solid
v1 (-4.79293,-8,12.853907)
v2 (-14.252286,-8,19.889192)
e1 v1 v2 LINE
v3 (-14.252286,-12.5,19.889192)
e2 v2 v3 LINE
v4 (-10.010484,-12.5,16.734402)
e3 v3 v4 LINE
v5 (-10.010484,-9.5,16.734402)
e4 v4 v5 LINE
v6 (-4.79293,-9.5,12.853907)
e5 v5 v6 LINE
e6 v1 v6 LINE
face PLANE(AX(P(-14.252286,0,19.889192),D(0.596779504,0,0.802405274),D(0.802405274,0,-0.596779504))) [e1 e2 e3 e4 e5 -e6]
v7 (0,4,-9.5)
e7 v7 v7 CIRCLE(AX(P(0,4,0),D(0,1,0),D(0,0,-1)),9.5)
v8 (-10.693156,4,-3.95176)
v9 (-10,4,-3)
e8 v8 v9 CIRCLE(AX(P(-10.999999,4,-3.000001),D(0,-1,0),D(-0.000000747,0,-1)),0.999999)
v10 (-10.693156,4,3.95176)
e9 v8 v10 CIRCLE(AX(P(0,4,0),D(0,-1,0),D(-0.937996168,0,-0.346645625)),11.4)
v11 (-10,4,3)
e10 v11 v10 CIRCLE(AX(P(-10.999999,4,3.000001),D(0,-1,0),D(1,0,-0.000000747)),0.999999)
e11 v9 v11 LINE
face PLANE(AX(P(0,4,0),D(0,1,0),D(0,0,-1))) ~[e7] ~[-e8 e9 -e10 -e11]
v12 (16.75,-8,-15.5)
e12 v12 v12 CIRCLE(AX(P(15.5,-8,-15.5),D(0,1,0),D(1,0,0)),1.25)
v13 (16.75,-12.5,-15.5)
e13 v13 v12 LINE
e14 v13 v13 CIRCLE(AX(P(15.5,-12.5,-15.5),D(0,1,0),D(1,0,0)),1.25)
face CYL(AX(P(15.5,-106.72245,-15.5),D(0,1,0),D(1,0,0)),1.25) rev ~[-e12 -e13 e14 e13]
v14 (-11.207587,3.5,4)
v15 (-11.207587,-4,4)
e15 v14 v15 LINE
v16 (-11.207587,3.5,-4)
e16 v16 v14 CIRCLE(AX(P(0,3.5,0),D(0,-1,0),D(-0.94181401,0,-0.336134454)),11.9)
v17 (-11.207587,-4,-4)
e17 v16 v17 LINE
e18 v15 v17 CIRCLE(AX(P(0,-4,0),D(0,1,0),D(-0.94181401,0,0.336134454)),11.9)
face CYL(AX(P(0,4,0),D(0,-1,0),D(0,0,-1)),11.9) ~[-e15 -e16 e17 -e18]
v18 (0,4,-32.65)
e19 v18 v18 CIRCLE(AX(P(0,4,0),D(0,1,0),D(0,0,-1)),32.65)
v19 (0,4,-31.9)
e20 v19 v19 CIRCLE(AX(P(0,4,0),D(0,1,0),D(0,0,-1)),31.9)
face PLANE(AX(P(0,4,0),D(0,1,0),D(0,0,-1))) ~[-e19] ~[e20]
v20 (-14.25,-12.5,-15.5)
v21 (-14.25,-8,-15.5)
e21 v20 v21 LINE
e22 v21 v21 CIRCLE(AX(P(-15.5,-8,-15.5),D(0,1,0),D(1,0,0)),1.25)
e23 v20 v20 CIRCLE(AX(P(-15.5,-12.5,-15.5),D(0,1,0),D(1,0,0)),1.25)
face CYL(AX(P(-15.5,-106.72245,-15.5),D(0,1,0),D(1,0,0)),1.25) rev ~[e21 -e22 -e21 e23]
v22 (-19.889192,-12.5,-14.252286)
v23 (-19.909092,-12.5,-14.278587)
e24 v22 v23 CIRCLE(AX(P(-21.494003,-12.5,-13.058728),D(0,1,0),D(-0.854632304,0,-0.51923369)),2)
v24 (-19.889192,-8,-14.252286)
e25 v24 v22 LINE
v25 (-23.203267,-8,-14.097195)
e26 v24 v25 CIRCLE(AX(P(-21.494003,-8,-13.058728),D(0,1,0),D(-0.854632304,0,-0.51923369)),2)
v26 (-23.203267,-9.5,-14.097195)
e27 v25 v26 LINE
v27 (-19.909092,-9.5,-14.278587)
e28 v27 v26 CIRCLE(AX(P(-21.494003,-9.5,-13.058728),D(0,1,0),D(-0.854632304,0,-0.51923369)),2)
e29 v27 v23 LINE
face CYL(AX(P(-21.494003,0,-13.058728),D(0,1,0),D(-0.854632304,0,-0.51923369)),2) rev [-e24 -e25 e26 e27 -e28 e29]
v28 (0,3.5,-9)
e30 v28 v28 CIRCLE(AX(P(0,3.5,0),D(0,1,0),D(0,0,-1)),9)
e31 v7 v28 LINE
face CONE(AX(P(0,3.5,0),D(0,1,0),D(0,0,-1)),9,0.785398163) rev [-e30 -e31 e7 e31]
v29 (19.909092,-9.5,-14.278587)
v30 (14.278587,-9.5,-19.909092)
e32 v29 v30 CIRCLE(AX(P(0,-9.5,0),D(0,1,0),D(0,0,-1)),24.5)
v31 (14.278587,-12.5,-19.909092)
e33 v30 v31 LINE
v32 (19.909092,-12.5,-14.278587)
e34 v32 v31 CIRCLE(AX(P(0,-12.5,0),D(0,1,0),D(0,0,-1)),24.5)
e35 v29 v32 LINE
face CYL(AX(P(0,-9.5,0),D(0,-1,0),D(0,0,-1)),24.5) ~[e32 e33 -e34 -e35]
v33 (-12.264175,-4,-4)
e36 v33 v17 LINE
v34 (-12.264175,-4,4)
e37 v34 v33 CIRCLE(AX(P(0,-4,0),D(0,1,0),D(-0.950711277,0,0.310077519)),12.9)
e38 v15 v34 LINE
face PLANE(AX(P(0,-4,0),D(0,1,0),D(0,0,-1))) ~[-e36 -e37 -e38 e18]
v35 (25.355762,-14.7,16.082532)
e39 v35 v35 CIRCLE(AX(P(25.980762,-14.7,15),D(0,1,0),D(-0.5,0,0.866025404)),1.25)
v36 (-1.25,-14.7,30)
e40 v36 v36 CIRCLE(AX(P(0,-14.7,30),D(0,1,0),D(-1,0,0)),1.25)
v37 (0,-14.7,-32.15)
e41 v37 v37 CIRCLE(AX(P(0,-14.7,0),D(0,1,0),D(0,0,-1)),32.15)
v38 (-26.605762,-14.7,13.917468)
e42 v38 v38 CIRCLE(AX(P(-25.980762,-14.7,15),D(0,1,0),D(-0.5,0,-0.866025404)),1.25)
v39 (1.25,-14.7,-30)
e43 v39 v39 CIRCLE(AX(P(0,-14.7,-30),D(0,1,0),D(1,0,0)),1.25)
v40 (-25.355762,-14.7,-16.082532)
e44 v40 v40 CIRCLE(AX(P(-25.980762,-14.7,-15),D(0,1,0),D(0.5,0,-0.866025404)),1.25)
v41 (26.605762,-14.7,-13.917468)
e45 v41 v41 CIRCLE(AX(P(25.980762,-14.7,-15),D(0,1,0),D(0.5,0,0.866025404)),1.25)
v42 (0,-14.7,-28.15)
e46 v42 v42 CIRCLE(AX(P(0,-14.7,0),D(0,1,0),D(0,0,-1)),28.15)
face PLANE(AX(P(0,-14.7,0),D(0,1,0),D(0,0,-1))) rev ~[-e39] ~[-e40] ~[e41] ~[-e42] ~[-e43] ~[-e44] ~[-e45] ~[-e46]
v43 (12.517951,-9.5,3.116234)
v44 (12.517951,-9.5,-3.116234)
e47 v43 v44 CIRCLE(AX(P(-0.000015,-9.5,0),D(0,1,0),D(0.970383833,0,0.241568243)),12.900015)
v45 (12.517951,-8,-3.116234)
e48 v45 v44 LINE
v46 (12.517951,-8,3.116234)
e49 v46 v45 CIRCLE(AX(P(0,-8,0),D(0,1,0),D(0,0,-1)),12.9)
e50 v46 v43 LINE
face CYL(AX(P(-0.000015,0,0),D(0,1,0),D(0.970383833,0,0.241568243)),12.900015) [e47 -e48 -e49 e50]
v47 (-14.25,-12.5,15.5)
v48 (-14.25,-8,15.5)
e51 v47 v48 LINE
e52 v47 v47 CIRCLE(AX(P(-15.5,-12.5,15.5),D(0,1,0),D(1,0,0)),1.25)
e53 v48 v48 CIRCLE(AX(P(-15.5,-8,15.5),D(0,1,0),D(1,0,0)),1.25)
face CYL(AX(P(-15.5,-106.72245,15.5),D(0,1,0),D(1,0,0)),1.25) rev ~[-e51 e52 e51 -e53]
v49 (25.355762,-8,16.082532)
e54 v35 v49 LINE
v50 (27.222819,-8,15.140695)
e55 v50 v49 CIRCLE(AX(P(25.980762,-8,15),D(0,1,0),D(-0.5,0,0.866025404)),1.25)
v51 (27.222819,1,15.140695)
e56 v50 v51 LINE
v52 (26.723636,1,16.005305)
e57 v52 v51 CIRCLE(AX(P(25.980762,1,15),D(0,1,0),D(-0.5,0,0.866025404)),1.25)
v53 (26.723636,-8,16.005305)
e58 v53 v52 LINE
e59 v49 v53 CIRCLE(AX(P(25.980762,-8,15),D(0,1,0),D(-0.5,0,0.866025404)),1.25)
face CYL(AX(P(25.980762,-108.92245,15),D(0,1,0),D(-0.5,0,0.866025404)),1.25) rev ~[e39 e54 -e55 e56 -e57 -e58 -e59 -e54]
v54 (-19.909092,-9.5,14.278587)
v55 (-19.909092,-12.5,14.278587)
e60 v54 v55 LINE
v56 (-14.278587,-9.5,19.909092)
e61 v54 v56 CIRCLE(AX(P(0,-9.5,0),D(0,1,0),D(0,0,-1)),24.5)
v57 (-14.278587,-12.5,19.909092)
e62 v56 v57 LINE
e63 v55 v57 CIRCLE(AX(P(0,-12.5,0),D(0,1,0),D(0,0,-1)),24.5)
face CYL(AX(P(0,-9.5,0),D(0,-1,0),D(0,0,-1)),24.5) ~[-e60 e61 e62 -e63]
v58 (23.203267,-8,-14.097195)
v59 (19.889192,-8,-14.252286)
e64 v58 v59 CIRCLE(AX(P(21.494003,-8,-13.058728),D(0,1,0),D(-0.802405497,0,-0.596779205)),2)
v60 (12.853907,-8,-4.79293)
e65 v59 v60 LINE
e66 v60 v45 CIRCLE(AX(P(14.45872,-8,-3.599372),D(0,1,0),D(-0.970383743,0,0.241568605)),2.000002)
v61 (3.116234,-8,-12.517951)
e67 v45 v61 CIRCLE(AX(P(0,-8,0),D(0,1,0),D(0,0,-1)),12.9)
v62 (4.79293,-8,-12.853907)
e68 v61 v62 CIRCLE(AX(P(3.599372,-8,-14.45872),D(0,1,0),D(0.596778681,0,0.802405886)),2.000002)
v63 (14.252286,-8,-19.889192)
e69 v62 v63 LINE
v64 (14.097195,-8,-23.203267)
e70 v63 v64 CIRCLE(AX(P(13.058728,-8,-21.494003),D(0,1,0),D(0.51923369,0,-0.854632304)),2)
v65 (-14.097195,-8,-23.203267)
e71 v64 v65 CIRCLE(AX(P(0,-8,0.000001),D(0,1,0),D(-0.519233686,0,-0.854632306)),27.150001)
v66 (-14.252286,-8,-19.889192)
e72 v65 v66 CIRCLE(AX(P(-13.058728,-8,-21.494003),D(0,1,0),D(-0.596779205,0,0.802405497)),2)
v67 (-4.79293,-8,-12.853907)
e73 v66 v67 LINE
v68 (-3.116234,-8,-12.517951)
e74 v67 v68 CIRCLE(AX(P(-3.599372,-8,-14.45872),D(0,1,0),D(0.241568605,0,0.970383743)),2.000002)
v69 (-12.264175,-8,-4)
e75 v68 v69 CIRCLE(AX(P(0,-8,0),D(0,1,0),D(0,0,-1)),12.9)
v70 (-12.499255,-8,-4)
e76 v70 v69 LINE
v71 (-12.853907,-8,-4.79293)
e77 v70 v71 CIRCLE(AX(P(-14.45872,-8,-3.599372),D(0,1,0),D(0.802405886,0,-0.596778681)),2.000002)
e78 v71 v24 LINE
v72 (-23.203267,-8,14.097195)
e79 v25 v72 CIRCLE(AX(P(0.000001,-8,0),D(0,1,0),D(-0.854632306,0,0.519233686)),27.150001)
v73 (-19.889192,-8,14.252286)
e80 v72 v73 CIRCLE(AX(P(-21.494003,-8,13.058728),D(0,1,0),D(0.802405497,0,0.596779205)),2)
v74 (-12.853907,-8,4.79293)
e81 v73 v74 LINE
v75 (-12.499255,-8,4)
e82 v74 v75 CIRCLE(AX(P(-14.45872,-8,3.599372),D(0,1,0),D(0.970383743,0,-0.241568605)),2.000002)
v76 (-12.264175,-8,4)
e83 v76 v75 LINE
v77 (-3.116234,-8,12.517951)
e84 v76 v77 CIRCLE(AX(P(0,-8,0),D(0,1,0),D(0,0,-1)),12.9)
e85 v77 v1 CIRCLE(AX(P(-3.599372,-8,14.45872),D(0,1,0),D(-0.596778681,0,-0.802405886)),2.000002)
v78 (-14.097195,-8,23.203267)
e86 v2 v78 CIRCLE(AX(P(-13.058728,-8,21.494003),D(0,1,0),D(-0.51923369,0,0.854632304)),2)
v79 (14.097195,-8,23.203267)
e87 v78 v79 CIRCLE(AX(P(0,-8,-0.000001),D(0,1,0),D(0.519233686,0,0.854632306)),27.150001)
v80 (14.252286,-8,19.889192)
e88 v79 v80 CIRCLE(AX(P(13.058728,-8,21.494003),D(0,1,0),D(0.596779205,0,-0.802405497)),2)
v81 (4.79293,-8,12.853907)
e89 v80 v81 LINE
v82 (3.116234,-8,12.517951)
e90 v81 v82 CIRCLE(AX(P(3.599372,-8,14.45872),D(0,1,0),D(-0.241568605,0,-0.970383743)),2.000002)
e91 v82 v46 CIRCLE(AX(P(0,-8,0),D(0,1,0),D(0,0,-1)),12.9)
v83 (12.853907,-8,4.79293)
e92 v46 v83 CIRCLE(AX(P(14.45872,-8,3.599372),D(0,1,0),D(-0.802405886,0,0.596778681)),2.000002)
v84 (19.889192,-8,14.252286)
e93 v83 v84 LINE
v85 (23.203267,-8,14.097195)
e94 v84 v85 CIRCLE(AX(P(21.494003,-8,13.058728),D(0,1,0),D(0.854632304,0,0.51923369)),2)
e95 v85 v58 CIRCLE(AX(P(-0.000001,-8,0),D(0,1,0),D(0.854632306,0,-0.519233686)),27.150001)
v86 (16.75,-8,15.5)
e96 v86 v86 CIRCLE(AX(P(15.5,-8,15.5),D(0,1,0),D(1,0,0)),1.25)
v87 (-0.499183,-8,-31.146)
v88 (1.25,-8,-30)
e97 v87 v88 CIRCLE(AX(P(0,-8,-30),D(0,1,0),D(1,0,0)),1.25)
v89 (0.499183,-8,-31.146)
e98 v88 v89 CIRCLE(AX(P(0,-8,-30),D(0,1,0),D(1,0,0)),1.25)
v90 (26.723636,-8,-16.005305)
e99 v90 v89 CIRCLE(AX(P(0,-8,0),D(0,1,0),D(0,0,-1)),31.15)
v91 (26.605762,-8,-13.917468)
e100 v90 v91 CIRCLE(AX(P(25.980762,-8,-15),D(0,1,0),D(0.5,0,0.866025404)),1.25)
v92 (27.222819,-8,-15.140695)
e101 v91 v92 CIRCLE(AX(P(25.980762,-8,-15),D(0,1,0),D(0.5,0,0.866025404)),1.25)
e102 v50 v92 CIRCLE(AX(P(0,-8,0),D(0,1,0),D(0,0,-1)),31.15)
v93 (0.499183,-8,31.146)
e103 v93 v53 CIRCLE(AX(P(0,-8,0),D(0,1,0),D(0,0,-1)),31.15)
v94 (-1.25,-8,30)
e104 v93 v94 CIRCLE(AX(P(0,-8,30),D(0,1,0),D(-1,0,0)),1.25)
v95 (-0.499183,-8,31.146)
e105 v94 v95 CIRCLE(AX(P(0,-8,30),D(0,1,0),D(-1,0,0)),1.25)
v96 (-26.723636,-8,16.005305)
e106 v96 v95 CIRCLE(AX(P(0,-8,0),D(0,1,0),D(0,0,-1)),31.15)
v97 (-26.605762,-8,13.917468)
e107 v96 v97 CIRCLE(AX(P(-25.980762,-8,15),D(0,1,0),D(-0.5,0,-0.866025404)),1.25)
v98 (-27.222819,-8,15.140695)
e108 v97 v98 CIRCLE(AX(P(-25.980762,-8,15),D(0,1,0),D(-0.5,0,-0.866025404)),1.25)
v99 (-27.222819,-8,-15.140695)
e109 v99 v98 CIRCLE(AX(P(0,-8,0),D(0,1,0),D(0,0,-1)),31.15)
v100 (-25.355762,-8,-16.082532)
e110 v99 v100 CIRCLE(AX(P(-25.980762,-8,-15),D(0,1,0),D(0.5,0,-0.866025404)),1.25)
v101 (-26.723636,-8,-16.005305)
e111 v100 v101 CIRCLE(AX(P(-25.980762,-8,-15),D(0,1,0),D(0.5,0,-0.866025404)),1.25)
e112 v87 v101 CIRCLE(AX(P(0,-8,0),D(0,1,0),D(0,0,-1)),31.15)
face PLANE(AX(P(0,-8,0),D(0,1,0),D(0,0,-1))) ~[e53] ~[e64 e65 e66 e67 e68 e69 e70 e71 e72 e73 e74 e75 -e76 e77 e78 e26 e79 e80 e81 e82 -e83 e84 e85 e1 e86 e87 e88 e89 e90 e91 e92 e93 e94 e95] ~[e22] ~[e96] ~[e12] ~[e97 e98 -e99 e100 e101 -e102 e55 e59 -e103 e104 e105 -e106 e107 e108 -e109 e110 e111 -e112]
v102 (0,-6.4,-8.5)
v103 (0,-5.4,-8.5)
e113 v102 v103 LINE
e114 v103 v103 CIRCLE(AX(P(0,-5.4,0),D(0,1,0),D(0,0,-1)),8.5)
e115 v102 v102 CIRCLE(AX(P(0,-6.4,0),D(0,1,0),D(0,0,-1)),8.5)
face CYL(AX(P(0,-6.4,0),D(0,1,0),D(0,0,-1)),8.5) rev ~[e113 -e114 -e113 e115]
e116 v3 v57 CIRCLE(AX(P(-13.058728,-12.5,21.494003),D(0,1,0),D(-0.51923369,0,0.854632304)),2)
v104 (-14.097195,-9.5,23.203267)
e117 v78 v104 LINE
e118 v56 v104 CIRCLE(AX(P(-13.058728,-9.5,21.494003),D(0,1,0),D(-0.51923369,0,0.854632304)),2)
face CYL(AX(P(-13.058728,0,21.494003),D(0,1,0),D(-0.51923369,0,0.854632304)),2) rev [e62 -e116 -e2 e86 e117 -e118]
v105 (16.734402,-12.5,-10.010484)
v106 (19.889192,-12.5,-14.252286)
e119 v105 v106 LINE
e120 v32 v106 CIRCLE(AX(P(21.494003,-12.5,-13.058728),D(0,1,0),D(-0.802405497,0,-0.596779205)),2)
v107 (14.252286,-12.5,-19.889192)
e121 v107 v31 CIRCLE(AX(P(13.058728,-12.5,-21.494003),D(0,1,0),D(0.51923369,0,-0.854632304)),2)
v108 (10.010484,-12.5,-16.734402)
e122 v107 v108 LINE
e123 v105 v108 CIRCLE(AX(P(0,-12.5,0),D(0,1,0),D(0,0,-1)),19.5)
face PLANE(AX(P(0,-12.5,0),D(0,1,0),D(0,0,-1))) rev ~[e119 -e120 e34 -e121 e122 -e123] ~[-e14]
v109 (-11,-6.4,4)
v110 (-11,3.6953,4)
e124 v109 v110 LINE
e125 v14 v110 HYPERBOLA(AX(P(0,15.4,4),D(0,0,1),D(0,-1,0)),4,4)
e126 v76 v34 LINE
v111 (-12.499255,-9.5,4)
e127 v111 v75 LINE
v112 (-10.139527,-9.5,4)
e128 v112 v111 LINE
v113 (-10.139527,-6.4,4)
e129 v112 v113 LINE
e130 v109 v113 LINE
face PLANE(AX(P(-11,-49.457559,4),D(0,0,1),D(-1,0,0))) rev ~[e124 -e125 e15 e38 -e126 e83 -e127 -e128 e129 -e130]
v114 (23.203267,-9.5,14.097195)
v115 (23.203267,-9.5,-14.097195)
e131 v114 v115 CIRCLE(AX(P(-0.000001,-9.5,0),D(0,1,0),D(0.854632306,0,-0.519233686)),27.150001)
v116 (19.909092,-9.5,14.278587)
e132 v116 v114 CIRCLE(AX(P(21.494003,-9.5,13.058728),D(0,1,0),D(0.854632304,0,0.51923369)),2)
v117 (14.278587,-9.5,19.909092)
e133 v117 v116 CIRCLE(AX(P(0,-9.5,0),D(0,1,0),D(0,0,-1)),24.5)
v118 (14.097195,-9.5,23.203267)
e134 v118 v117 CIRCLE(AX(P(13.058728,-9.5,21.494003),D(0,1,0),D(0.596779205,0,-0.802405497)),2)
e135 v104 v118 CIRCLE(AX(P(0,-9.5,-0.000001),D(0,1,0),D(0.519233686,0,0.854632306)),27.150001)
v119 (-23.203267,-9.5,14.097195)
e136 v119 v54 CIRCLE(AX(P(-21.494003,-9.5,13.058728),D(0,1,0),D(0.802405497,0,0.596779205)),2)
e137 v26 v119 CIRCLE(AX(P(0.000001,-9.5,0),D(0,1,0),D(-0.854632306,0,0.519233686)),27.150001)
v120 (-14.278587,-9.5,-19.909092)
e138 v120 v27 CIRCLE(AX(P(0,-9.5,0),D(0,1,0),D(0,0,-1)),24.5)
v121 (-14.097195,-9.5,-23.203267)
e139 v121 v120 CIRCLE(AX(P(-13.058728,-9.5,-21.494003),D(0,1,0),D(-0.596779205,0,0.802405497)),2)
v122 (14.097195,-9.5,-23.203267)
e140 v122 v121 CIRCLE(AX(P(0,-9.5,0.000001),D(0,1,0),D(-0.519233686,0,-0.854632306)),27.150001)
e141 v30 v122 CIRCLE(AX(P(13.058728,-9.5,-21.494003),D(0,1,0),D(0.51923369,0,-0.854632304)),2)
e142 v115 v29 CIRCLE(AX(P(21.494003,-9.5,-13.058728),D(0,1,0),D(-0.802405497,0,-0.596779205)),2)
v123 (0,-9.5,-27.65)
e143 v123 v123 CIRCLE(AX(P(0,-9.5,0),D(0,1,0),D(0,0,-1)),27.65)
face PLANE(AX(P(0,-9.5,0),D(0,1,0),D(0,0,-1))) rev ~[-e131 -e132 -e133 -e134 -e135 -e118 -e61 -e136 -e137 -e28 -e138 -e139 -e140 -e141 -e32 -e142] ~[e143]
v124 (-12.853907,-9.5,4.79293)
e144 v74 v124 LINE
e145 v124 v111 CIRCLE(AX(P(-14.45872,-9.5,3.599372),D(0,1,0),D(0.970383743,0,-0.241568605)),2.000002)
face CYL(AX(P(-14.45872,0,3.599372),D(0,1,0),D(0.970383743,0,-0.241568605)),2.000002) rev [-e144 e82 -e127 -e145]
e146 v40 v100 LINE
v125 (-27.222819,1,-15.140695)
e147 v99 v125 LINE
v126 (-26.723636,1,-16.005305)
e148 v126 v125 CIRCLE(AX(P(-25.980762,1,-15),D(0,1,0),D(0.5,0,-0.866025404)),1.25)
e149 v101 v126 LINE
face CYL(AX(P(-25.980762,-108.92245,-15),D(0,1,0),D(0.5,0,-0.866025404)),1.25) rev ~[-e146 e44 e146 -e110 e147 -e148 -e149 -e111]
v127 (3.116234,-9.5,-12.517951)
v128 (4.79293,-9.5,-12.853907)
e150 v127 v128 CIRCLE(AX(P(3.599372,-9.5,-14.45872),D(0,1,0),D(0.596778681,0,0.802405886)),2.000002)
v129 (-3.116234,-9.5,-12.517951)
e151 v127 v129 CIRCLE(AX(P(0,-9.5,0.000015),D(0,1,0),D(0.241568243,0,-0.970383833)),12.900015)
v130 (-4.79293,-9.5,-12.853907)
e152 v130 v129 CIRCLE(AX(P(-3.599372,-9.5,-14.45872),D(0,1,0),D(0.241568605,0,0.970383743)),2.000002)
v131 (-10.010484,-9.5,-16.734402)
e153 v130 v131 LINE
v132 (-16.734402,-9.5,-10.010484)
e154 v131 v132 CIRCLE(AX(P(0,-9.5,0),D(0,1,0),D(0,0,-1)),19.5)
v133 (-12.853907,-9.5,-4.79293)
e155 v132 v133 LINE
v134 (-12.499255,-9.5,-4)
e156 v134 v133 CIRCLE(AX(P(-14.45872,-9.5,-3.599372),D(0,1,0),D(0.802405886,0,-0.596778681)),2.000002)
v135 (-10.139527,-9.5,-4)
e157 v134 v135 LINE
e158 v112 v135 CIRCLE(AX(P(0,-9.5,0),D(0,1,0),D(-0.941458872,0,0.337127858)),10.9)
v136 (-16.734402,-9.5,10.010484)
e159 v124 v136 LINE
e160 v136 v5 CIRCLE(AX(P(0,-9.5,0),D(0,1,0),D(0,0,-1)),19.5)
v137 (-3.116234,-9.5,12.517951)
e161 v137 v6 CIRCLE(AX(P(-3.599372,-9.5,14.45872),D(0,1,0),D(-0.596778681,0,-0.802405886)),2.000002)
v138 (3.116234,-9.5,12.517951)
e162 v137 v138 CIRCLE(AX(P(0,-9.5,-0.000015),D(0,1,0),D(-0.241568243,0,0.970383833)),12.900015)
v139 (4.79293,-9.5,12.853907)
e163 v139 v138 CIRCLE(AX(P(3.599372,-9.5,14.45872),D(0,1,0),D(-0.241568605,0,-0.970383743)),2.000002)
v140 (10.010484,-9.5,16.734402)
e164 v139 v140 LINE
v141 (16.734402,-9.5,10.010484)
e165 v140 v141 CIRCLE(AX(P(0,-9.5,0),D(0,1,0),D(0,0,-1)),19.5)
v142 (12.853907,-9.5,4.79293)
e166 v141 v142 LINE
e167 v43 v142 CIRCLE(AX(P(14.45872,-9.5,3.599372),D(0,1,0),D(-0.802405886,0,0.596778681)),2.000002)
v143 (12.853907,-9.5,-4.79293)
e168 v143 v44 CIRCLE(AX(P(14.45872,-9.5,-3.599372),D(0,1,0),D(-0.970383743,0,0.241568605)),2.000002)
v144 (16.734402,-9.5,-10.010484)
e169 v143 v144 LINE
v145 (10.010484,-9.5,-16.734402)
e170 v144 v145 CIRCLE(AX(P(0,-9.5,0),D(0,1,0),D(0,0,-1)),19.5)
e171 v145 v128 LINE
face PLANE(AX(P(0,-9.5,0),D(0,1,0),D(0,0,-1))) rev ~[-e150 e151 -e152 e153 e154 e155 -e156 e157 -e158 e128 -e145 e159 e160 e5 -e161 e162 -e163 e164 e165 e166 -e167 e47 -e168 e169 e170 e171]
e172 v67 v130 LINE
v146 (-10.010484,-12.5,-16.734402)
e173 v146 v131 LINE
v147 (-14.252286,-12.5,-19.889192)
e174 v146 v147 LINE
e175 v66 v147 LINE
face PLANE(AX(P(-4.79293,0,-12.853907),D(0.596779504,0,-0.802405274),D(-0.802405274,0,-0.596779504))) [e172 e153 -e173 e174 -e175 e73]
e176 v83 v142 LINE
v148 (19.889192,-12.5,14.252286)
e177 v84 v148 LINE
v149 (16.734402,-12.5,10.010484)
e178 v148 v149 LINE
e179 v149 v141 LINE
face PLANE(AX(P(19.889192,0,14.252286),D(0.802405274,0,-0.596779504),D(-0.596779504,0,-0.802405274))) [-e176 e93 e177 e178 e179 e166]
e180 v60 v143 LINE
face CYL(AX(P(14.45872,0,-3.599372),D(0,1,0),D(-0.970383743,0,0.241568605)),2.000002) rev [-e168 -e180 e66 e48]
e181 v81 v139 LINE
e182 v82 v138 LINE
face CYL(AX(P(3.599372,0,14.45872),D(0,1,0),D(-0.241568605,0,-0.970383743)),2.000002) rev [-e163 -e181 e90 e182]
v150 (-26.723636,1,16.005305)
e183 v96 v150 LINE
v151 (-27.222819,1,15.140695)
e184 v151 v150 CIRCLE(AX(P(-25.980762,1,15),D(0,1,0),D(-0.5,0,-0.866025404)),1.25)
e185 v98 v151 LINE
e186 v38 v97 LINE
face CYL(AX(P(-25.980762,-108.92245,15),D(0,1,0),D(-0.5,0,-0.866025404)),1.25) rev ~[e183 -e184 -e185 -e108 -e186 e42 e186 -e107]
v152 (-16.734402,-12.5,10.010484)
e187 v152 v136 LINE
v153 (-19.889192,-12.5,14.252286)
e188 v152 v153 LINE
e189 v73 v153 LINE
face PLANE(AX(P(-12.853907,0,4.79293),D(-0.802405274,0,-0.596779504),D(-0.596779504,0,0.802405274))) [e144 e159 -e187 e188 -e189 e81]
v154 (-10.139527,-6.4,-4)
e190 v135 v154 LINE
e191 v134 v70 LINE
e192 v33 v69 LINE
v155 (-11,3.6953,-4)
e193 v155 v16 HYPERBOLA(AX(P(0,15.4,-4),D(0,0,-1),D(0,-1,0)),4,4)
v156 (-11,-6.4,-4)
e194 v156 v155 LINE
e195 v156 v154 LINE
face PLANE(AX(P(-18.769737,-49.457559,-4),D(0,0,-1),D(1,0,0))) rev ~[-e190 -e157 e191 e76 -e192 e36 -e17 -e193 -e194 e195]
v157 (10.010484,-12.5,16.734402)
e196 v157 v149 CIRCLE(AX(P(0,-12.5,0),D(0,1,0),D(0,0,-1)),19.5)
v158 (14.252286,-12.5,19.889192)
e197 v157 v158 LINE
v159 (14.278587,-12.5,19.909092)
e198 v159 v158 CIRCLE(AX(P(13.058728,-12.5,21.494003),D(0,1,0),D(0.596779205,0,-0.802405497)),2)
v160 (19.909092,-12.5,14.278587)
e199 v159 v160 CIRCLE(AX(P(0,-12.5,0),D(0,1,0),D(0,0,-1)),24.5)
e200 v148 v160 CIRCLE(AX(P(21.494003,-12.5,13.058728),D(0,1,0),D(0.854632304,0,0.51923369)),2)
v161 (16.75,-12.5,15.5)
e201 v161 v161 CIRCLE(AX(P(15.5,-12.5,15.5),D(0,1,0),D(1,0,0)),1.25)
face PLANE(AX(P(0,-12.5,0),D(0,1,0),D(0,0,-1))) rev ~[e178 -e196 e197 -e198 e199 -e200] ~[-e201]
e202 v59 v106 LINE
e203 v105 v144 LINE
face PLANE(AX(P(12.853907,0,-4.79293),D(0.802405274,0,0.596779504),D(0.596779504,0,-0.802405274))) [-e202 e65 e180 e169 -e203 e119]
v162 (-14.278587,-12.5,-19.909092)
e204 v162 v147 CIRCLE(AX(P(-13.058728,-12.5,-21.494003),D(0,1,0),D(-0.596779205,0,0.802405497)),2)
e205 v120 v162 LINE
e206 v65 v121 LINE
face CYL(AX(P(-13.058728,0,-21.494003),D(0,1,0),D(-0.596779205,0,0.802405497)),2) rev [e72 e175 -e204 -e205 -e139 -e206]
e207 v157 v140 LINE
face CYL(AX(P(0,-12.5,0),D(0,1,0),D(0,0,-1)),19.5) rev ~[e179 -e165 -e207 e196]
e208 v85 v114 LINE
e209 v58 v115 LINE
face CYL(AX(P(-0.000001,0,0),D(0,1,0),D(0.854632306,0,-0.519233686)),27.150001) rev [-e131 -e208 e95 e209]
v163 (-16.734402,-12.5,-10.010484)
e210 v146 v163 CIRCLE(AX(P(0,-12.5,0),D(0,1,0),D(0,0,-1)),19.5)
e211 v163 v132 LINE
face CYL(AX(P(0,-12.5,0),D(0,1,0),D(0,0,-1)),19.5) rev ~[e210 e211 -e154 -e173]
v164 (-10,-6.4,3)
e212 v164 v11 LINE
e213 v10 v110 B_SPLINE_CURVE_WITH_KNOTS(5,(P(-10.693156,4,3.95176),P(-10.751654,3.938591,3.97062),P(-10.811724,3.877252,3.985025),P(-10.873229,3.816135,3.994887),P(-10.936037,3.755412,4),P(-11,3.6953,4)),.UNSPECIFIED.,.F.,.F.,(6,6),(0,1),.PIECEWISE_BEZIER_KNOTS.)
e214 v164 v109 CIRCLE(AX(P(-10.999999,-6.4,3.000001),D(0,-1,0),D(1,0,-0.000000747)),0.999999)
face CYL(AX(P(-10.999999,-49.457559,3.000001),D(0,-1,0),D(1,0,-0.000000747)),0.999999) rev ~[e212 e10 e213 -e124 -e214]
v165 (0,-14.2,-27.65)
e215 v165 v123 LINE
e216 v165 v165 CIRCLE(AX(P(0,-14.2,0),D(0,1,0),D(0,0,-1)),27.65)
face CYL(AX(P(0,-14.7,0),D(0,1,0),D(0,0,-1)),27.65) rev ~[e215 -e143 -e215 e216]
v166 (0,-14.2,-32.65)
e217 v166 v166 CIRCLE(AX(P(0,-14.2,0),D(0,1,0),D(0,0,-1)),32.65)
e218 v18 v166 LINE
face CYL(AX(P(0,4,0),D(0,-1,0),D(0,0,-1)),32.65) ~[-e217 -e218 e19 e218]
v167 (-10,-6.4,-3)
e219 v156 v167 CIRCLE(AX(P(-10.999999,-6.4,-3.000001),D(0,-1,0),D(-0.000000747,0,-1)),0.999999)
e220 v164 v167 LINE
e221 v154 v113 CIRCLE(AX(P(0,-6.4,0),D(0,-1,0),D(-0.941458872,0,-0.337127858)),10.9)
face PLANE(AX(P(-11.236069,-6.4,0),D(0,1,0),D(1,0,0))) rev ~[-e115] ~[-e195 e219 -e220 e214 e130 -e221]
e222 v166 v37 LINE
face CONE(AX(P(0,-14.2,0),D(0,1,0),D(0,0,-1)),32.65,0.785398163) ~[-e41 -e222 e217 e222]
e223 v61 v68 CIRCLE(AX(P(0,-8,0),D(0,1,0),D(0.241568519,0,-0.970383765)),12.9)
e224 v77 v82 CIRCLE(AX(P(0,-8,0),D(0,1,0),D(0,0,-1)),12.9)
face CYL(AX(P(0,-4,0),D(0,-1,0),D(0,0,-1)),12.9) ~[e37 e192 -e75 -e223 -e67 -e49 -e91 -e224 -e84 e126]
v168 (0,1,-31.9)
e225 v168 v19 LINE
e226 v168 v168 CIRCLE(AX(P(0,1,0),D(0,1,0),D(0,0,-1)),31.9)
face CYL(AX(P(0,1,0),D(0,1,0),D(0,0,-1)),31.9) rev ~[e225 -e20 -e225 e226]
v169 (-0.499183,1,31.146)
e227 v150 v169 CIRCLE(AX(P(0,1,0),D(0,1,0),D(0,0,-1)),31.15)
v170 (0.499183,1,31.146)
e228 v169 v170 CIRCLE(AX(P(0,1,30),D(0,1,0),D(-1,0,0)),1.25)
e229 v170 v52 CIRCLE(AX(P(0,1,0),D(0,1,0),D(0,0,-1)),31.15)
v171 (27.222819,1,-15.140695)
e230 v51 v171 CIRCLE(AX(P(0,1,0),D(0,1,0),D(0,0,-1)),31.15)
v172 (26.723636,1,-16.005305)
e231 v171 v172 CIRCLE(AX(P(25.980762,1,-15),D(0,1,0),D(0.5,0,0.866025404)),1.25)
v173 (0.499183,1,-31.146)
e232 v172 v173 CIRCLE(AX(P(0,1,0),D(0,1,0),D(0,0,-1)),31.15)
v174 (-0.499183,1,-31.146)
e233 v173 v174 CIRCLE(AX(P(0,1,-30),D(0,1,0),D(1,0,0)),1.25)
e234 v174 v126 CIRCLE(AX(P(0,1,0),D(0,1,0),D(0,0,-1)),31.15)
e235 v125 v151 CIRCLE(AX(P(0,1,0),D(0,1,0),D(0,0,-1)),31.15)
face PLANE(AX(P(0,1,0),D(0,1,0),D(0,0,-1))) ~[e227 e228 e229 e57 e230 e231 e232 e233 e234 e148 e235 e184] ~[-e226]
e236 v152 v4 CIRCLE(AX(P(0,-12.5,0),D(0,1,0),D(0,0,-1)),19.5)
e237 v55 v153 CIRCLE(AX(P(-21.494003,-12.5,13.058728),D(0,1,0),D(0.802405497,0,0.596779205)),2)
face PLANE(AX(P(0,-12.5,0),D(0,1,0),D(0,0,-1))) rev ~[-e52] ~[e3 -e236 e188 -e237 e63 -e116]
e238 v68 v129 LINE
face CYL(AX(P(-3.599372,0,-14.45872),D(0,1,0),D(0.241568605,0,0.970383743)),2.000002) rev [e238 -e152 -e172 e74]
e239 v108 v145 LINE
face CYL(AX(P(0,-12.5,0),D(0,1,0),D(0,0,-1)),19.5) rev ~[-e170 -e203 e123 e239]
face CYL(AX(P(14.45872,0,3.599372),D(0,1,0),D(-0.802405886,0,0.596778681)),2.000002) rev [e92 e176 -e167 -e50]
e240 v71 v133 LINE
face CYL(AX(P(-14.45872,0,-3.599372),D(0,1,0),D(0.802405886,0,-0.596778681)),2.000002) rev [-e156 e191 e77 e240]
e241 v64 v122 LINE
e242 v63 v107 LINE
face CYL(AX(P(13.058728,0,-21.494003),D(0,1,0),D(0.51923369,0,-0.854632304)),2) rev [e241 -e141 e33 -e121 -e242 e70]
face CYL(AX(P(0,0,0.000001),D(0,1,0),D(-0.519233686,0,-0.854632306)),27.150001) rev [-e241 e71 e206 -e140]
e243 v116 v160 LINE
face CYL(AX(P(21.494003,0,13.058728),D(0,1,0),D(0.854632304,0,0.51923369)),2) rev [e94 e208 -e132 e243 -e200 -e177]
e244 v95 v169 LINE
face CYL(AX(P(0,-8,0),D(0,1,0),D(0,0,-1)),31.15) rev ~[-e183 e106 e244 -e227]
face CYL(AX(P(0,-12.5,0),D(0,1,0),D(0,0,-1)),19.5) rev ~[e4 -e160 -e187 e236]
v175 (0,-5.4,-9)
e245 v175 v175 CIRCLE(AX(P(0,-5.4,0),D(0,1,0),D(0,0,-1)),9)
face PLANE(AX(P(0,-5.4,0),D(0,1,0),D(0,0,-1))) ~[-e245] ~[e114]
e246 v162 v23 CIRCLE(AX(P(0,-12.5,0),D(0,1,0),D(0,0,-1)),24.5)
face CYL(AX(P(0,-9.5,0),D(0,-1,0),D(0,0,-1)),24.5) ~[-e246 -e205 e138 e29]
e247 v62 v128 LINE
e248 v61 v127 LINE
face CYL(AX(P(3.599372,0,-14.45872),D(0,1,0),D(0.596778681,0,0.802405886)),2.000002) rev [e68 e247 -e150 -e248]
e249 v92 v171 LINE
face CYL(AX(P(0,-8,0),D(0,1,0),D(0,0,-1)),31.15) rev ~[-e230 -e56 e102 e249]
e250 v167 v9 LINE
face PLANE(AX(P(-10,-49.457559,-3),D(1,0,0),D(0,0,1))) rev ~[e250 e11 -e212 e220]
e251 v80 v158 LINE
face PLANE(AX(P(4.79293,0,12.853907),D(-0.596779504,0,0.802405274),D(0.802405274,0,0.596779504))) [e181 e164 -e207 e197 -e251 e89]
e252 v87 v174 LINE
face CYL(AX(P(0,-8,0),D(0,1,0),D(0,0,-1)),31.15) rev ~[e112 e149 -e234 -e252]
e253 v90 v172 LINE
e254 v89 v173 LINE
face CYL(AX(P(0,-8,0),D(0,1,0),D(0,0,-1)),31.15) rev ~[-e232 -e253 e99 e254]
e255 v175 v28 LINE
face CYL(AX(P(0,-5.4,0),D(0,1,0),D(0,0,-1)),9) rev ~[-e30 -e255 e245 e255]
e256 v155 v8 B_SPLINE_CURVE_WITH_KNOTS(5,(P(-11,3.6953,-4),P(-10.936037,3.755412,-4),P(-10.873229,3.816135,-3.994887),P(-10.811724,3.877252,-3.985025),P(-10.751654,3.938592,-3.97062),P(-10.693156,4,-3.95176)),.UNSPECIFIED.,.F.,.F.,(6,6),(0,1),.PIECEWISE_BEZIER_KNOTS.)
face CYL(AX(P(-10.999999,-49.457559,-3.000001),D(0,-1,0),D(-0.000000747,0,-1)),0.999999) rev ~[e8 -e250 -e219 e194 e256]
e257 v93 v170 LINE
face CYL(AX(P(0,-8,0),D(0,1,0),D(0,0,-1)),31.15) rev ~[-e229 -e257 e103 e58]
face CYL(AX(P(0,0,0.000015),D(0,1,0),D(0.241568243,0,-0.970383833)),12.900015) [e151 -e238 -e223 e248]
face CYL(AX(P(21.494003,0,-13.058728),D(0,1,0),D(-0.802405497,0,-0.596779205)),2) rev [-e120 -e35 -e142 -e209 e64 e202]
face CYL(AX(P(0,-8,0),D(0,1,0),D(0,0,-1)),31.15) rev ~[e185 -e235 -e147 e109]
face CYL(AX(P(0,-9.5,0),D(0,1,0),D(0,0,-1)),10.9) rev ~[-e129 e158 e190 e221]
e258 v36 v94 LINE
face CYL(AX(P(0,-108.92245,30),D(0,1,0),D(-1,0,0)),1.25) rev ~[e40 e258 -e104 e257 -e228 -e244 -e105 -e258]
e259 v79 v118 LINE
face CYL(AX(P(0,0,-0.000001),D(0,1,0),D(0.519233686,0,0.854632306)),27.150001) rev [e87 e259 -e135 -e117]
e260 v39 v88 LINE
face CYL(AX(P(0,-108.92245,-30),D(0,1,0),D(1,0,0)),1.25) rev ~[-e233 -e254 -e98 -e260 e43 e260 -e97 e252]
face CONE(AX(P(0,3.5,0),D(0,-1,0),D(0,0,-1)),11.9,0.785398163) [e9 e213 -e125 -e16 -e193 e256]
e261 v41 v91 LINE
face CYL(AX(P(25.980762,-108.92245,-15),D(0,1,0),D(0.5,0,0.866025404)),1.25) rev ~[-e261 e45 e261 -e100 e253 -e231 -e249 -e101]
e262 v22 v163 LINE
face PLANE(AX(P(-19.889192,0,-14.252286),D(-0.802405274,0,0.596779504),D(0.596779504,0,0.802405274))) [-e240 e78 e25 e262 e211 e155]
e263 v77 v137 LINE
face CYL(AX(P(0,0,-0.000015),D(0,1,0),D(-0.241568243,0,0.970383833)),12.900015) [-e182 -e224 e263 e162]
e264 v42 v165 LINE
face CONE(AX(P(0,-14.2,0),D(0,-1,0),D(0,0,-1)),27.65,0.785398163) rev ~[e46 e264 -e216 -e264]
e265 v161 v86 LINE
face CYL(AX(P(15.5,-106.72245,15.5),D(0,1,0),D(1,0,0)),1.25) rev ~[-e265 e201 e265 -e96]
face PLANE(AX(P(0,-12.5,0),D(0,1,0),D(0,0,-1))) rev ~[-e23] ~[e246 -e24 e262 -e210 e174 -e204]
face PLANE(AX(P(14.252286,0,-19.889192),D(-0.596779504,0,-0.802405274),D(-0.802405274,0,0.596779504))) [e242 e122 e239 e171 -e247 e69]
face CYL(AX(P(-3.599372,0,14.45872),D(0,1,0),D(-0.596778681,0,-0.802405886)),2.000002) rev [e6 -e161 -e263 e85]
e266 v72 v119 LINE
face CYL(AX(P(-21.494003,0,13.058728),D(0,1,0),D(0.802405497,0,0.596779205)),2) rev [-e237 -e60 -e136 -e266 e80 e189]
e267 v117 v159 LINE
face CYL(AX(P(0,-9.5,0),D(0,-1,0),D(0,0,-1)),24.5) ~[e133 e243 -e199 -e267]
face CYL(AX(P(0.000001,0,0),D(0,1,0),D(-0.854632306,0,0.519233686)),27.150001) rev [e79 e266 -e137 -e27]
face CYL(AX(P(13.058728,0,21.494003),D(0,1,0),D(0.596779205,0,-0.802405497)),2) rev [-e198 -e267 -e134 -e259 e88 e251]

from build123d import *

# Parameters (mm, degrees)
M3X0_5_TAPPED_HOLE2_D   = 2.5
M3X0_5_TAPPED_HOLE3_D   = 2.5
CUT_EXTRUDE4_DEPTH      = 49.457559
CIRPATTERN3_COUNT       = 4
CIRPATTERN4_COUNT       = 6
CHAMFER1_SIZE           = 0.5
CUT_EXTRUDE6_DEPTH      = 49.457559
CUT_EXTRUDE6_DEPTH_BACK = 49.457559
CUT_EXTRUDE7_START      = -6.4
SKETCH18_W              = 13.80373
SKETCH18_H              = 8
CUT_EXTRUDE7_DEPTH      = 43.057559


with BuildPart() as part:
    # Sketch1 → Revolve1 (revolve)
    with BuildSketch(Plane.XY, mode=Mode.PRIVATE) as revolve1_sk:
        Polygon((-11.9, 4), (-11.9, -4), (-12.9, -4), (-12.9, -8), (-31.15, -8), (-31.15, 1), (-31.9, 1), (-31.9, 4), (-32.65, 4), (-32.65, -14.2), (-32.15, -14.7), (-27.65, -14.7), (-27.65, -9.5), (-24.5, -9.5), (-24.5, -12.5), (-19.5, -12.5), (-19.5, -9.5), (-10.9, -9.5), (-10.9, -6.4), (-8.5, -6.4), (-8.5, -5.4), (-9, -5.4), (-9, 4), align=None)
    revolve(revolve1_sk.sketch.rotate(Axis((0, 0, 0), (0, 1, 0)), 270), axis=Axis((0, 0, 0), (0, 1, 0)))

    # M3x0.5 Tapped Hole2 (through all)
    with Locations(Plane(origin=(0, -14.7, 0), x_dir=(-1, 0, 0), z_dir=(0, -1, 0))):
        with Locations((0, 30)):
            m3x0_5_tapped_hole2 = Hole(M3X0_5_TAPPED_HOLE2_D / 2)

    # M3x0.5 Tapped Hole3 (through all)
    with Locations(Plane(origin=(0, -12.5, 0), x_dir=(-1, 0, 0), z_dir=(0, -1, 0))):
        with Locations((-15.5, 15.5), (15.5, 15.5), (-15.5, -15.5), (15.5, -15.5)):
            Hole(M3X0_5_TAPPED_HOLE3_D / 2)

    # Sketch13 → Cut-Extrude4 (cut, through all)
    with BuildSketch(Plane(origin=(0, 0, 0), x_dir=(1, 0, 0), z_dir=(0, 1, 0))):
        with BuildLine():
            Line((14.252286, 19.889192), (4.79293, 12.853907))
            ThreePointArc((4.79293, 12.853907), (3.992298, 12.497696), (3.116234, 12.517951))
            ThreePointArc((3.116234, 12.517951), (0, 12.9), (-3.116234, 12.517951))
            ThreePointArc((-3.116234, 12.517951), (-3.992298, 12.497696), (-4.79293, 12.853907))
            Line((-4.79293, 12.853907), (-14.252286, 19.889192))
            ThreePointArc((-14.252286, 19.889192), (-15.056541, 21.587496), (-14.097195, 23.203267))
            ThreePointArc((-14.097195, 23.203267), (0, 27.15), (14.097195, 23.203267))
            ThreePointArc((14.097195, 23.203267), (15.056541, 21.587496), (14.252286, 19.889192))
        make_face()
    cut_extrude4 = extrude(amount=-CUT_EXTRUDE4_DEPTH, mode=Mode.SUBTRACT)

    # CirPattern3: Cut-Extrude4 ×4 about axis
    cirpattern3_axis = Axis((0, 0, 0), (0, 1, 0))
    for i in range(1, CIRPATTERN3_COUNT):
        add(cut_extrude4.rotate(cirpattern3_axis, i * 360 / CIRPATTERN3_COUNT), mode=Mode.SUBTRACT)

    # CirPattern4: M3x0.5 Tapped Hole2 ×6 about axis
    cirpattern4_axis = Axis((0, 0, 0), (0, 1, 0))
    for i in range(1, CIRPATTERN4_COUNT):
        add(m3x0_5_tapped_hole2.rotate(cirpattern4_axis, i * 360 / CIRPATTERN4_COUNT), mode=Mode.SUBTRACT)

    # Chamfer1
    chamfer1_edges = [part.edges().sort_by_distance(p)[0] for p in [
        (0, 4, 11.9),
        (0, -14.7, 27.65),
        (0, 4, 9),
    ]]
    chamfer(chamfer1_edges, length=CHAMFER1_SIZE)

    # Sketch16 → Cut-Extrude6 (cut, two sides: drawn at the far end of the back side and taken through both)
    with BuildSketch(Plane(origin=(0, 0, 0), x_dir=(1, 0, 0), z_dir=(0, 1, 0)).offset(-CUT_EXTRUDE6_DEPTH_BACK)):
        with BuildLine():
            Line((-18.769737, 4), (-11, 4))
            ThreePointArc((-11, 4), (-10.292893, 3.707107), (-10, 3))
            Line((-10, 3), (-10, -3))
            ThreePointArc((-10, -3), (-10.292893, -3.707107), (-11, -4))
            Line((-11, -4), (-18.769737, -4))
            ThreePointArc((-18.769737, -4), (-19.476844, -3.707107), (-19.769737, -3))
            Line((-19.769737, -3), (-19.769737, 3))
            ThreePointArc((-19.769737, 3), (-19.476844, 3.707107), (-18.769737, 4))
        make_face()
    extrude(amount=CUT_EXTRUDE6_DEPTH + CUT_EXTRUDE6_DEPTH_BACK, mode=Mode.SUBTRACT)

    # Sketch18 → Cut-Extrude7 (cut, through all)
    with BuildSketch(Plane(origin=(0, 0, 0), x_dir=(1, 0, 0), z_dir=(0, 1, 0)).offset(CUT_EXTRUDE7_START)):
        with Locations((-11.236069, 0)):
            Rectangle(SKETCH18_W, SKETCH18_H)
    extrude(amount=-CUT_EXTRUDE7_DEPTH, mode=Mode.SUBTRACT)


solid = part.part
